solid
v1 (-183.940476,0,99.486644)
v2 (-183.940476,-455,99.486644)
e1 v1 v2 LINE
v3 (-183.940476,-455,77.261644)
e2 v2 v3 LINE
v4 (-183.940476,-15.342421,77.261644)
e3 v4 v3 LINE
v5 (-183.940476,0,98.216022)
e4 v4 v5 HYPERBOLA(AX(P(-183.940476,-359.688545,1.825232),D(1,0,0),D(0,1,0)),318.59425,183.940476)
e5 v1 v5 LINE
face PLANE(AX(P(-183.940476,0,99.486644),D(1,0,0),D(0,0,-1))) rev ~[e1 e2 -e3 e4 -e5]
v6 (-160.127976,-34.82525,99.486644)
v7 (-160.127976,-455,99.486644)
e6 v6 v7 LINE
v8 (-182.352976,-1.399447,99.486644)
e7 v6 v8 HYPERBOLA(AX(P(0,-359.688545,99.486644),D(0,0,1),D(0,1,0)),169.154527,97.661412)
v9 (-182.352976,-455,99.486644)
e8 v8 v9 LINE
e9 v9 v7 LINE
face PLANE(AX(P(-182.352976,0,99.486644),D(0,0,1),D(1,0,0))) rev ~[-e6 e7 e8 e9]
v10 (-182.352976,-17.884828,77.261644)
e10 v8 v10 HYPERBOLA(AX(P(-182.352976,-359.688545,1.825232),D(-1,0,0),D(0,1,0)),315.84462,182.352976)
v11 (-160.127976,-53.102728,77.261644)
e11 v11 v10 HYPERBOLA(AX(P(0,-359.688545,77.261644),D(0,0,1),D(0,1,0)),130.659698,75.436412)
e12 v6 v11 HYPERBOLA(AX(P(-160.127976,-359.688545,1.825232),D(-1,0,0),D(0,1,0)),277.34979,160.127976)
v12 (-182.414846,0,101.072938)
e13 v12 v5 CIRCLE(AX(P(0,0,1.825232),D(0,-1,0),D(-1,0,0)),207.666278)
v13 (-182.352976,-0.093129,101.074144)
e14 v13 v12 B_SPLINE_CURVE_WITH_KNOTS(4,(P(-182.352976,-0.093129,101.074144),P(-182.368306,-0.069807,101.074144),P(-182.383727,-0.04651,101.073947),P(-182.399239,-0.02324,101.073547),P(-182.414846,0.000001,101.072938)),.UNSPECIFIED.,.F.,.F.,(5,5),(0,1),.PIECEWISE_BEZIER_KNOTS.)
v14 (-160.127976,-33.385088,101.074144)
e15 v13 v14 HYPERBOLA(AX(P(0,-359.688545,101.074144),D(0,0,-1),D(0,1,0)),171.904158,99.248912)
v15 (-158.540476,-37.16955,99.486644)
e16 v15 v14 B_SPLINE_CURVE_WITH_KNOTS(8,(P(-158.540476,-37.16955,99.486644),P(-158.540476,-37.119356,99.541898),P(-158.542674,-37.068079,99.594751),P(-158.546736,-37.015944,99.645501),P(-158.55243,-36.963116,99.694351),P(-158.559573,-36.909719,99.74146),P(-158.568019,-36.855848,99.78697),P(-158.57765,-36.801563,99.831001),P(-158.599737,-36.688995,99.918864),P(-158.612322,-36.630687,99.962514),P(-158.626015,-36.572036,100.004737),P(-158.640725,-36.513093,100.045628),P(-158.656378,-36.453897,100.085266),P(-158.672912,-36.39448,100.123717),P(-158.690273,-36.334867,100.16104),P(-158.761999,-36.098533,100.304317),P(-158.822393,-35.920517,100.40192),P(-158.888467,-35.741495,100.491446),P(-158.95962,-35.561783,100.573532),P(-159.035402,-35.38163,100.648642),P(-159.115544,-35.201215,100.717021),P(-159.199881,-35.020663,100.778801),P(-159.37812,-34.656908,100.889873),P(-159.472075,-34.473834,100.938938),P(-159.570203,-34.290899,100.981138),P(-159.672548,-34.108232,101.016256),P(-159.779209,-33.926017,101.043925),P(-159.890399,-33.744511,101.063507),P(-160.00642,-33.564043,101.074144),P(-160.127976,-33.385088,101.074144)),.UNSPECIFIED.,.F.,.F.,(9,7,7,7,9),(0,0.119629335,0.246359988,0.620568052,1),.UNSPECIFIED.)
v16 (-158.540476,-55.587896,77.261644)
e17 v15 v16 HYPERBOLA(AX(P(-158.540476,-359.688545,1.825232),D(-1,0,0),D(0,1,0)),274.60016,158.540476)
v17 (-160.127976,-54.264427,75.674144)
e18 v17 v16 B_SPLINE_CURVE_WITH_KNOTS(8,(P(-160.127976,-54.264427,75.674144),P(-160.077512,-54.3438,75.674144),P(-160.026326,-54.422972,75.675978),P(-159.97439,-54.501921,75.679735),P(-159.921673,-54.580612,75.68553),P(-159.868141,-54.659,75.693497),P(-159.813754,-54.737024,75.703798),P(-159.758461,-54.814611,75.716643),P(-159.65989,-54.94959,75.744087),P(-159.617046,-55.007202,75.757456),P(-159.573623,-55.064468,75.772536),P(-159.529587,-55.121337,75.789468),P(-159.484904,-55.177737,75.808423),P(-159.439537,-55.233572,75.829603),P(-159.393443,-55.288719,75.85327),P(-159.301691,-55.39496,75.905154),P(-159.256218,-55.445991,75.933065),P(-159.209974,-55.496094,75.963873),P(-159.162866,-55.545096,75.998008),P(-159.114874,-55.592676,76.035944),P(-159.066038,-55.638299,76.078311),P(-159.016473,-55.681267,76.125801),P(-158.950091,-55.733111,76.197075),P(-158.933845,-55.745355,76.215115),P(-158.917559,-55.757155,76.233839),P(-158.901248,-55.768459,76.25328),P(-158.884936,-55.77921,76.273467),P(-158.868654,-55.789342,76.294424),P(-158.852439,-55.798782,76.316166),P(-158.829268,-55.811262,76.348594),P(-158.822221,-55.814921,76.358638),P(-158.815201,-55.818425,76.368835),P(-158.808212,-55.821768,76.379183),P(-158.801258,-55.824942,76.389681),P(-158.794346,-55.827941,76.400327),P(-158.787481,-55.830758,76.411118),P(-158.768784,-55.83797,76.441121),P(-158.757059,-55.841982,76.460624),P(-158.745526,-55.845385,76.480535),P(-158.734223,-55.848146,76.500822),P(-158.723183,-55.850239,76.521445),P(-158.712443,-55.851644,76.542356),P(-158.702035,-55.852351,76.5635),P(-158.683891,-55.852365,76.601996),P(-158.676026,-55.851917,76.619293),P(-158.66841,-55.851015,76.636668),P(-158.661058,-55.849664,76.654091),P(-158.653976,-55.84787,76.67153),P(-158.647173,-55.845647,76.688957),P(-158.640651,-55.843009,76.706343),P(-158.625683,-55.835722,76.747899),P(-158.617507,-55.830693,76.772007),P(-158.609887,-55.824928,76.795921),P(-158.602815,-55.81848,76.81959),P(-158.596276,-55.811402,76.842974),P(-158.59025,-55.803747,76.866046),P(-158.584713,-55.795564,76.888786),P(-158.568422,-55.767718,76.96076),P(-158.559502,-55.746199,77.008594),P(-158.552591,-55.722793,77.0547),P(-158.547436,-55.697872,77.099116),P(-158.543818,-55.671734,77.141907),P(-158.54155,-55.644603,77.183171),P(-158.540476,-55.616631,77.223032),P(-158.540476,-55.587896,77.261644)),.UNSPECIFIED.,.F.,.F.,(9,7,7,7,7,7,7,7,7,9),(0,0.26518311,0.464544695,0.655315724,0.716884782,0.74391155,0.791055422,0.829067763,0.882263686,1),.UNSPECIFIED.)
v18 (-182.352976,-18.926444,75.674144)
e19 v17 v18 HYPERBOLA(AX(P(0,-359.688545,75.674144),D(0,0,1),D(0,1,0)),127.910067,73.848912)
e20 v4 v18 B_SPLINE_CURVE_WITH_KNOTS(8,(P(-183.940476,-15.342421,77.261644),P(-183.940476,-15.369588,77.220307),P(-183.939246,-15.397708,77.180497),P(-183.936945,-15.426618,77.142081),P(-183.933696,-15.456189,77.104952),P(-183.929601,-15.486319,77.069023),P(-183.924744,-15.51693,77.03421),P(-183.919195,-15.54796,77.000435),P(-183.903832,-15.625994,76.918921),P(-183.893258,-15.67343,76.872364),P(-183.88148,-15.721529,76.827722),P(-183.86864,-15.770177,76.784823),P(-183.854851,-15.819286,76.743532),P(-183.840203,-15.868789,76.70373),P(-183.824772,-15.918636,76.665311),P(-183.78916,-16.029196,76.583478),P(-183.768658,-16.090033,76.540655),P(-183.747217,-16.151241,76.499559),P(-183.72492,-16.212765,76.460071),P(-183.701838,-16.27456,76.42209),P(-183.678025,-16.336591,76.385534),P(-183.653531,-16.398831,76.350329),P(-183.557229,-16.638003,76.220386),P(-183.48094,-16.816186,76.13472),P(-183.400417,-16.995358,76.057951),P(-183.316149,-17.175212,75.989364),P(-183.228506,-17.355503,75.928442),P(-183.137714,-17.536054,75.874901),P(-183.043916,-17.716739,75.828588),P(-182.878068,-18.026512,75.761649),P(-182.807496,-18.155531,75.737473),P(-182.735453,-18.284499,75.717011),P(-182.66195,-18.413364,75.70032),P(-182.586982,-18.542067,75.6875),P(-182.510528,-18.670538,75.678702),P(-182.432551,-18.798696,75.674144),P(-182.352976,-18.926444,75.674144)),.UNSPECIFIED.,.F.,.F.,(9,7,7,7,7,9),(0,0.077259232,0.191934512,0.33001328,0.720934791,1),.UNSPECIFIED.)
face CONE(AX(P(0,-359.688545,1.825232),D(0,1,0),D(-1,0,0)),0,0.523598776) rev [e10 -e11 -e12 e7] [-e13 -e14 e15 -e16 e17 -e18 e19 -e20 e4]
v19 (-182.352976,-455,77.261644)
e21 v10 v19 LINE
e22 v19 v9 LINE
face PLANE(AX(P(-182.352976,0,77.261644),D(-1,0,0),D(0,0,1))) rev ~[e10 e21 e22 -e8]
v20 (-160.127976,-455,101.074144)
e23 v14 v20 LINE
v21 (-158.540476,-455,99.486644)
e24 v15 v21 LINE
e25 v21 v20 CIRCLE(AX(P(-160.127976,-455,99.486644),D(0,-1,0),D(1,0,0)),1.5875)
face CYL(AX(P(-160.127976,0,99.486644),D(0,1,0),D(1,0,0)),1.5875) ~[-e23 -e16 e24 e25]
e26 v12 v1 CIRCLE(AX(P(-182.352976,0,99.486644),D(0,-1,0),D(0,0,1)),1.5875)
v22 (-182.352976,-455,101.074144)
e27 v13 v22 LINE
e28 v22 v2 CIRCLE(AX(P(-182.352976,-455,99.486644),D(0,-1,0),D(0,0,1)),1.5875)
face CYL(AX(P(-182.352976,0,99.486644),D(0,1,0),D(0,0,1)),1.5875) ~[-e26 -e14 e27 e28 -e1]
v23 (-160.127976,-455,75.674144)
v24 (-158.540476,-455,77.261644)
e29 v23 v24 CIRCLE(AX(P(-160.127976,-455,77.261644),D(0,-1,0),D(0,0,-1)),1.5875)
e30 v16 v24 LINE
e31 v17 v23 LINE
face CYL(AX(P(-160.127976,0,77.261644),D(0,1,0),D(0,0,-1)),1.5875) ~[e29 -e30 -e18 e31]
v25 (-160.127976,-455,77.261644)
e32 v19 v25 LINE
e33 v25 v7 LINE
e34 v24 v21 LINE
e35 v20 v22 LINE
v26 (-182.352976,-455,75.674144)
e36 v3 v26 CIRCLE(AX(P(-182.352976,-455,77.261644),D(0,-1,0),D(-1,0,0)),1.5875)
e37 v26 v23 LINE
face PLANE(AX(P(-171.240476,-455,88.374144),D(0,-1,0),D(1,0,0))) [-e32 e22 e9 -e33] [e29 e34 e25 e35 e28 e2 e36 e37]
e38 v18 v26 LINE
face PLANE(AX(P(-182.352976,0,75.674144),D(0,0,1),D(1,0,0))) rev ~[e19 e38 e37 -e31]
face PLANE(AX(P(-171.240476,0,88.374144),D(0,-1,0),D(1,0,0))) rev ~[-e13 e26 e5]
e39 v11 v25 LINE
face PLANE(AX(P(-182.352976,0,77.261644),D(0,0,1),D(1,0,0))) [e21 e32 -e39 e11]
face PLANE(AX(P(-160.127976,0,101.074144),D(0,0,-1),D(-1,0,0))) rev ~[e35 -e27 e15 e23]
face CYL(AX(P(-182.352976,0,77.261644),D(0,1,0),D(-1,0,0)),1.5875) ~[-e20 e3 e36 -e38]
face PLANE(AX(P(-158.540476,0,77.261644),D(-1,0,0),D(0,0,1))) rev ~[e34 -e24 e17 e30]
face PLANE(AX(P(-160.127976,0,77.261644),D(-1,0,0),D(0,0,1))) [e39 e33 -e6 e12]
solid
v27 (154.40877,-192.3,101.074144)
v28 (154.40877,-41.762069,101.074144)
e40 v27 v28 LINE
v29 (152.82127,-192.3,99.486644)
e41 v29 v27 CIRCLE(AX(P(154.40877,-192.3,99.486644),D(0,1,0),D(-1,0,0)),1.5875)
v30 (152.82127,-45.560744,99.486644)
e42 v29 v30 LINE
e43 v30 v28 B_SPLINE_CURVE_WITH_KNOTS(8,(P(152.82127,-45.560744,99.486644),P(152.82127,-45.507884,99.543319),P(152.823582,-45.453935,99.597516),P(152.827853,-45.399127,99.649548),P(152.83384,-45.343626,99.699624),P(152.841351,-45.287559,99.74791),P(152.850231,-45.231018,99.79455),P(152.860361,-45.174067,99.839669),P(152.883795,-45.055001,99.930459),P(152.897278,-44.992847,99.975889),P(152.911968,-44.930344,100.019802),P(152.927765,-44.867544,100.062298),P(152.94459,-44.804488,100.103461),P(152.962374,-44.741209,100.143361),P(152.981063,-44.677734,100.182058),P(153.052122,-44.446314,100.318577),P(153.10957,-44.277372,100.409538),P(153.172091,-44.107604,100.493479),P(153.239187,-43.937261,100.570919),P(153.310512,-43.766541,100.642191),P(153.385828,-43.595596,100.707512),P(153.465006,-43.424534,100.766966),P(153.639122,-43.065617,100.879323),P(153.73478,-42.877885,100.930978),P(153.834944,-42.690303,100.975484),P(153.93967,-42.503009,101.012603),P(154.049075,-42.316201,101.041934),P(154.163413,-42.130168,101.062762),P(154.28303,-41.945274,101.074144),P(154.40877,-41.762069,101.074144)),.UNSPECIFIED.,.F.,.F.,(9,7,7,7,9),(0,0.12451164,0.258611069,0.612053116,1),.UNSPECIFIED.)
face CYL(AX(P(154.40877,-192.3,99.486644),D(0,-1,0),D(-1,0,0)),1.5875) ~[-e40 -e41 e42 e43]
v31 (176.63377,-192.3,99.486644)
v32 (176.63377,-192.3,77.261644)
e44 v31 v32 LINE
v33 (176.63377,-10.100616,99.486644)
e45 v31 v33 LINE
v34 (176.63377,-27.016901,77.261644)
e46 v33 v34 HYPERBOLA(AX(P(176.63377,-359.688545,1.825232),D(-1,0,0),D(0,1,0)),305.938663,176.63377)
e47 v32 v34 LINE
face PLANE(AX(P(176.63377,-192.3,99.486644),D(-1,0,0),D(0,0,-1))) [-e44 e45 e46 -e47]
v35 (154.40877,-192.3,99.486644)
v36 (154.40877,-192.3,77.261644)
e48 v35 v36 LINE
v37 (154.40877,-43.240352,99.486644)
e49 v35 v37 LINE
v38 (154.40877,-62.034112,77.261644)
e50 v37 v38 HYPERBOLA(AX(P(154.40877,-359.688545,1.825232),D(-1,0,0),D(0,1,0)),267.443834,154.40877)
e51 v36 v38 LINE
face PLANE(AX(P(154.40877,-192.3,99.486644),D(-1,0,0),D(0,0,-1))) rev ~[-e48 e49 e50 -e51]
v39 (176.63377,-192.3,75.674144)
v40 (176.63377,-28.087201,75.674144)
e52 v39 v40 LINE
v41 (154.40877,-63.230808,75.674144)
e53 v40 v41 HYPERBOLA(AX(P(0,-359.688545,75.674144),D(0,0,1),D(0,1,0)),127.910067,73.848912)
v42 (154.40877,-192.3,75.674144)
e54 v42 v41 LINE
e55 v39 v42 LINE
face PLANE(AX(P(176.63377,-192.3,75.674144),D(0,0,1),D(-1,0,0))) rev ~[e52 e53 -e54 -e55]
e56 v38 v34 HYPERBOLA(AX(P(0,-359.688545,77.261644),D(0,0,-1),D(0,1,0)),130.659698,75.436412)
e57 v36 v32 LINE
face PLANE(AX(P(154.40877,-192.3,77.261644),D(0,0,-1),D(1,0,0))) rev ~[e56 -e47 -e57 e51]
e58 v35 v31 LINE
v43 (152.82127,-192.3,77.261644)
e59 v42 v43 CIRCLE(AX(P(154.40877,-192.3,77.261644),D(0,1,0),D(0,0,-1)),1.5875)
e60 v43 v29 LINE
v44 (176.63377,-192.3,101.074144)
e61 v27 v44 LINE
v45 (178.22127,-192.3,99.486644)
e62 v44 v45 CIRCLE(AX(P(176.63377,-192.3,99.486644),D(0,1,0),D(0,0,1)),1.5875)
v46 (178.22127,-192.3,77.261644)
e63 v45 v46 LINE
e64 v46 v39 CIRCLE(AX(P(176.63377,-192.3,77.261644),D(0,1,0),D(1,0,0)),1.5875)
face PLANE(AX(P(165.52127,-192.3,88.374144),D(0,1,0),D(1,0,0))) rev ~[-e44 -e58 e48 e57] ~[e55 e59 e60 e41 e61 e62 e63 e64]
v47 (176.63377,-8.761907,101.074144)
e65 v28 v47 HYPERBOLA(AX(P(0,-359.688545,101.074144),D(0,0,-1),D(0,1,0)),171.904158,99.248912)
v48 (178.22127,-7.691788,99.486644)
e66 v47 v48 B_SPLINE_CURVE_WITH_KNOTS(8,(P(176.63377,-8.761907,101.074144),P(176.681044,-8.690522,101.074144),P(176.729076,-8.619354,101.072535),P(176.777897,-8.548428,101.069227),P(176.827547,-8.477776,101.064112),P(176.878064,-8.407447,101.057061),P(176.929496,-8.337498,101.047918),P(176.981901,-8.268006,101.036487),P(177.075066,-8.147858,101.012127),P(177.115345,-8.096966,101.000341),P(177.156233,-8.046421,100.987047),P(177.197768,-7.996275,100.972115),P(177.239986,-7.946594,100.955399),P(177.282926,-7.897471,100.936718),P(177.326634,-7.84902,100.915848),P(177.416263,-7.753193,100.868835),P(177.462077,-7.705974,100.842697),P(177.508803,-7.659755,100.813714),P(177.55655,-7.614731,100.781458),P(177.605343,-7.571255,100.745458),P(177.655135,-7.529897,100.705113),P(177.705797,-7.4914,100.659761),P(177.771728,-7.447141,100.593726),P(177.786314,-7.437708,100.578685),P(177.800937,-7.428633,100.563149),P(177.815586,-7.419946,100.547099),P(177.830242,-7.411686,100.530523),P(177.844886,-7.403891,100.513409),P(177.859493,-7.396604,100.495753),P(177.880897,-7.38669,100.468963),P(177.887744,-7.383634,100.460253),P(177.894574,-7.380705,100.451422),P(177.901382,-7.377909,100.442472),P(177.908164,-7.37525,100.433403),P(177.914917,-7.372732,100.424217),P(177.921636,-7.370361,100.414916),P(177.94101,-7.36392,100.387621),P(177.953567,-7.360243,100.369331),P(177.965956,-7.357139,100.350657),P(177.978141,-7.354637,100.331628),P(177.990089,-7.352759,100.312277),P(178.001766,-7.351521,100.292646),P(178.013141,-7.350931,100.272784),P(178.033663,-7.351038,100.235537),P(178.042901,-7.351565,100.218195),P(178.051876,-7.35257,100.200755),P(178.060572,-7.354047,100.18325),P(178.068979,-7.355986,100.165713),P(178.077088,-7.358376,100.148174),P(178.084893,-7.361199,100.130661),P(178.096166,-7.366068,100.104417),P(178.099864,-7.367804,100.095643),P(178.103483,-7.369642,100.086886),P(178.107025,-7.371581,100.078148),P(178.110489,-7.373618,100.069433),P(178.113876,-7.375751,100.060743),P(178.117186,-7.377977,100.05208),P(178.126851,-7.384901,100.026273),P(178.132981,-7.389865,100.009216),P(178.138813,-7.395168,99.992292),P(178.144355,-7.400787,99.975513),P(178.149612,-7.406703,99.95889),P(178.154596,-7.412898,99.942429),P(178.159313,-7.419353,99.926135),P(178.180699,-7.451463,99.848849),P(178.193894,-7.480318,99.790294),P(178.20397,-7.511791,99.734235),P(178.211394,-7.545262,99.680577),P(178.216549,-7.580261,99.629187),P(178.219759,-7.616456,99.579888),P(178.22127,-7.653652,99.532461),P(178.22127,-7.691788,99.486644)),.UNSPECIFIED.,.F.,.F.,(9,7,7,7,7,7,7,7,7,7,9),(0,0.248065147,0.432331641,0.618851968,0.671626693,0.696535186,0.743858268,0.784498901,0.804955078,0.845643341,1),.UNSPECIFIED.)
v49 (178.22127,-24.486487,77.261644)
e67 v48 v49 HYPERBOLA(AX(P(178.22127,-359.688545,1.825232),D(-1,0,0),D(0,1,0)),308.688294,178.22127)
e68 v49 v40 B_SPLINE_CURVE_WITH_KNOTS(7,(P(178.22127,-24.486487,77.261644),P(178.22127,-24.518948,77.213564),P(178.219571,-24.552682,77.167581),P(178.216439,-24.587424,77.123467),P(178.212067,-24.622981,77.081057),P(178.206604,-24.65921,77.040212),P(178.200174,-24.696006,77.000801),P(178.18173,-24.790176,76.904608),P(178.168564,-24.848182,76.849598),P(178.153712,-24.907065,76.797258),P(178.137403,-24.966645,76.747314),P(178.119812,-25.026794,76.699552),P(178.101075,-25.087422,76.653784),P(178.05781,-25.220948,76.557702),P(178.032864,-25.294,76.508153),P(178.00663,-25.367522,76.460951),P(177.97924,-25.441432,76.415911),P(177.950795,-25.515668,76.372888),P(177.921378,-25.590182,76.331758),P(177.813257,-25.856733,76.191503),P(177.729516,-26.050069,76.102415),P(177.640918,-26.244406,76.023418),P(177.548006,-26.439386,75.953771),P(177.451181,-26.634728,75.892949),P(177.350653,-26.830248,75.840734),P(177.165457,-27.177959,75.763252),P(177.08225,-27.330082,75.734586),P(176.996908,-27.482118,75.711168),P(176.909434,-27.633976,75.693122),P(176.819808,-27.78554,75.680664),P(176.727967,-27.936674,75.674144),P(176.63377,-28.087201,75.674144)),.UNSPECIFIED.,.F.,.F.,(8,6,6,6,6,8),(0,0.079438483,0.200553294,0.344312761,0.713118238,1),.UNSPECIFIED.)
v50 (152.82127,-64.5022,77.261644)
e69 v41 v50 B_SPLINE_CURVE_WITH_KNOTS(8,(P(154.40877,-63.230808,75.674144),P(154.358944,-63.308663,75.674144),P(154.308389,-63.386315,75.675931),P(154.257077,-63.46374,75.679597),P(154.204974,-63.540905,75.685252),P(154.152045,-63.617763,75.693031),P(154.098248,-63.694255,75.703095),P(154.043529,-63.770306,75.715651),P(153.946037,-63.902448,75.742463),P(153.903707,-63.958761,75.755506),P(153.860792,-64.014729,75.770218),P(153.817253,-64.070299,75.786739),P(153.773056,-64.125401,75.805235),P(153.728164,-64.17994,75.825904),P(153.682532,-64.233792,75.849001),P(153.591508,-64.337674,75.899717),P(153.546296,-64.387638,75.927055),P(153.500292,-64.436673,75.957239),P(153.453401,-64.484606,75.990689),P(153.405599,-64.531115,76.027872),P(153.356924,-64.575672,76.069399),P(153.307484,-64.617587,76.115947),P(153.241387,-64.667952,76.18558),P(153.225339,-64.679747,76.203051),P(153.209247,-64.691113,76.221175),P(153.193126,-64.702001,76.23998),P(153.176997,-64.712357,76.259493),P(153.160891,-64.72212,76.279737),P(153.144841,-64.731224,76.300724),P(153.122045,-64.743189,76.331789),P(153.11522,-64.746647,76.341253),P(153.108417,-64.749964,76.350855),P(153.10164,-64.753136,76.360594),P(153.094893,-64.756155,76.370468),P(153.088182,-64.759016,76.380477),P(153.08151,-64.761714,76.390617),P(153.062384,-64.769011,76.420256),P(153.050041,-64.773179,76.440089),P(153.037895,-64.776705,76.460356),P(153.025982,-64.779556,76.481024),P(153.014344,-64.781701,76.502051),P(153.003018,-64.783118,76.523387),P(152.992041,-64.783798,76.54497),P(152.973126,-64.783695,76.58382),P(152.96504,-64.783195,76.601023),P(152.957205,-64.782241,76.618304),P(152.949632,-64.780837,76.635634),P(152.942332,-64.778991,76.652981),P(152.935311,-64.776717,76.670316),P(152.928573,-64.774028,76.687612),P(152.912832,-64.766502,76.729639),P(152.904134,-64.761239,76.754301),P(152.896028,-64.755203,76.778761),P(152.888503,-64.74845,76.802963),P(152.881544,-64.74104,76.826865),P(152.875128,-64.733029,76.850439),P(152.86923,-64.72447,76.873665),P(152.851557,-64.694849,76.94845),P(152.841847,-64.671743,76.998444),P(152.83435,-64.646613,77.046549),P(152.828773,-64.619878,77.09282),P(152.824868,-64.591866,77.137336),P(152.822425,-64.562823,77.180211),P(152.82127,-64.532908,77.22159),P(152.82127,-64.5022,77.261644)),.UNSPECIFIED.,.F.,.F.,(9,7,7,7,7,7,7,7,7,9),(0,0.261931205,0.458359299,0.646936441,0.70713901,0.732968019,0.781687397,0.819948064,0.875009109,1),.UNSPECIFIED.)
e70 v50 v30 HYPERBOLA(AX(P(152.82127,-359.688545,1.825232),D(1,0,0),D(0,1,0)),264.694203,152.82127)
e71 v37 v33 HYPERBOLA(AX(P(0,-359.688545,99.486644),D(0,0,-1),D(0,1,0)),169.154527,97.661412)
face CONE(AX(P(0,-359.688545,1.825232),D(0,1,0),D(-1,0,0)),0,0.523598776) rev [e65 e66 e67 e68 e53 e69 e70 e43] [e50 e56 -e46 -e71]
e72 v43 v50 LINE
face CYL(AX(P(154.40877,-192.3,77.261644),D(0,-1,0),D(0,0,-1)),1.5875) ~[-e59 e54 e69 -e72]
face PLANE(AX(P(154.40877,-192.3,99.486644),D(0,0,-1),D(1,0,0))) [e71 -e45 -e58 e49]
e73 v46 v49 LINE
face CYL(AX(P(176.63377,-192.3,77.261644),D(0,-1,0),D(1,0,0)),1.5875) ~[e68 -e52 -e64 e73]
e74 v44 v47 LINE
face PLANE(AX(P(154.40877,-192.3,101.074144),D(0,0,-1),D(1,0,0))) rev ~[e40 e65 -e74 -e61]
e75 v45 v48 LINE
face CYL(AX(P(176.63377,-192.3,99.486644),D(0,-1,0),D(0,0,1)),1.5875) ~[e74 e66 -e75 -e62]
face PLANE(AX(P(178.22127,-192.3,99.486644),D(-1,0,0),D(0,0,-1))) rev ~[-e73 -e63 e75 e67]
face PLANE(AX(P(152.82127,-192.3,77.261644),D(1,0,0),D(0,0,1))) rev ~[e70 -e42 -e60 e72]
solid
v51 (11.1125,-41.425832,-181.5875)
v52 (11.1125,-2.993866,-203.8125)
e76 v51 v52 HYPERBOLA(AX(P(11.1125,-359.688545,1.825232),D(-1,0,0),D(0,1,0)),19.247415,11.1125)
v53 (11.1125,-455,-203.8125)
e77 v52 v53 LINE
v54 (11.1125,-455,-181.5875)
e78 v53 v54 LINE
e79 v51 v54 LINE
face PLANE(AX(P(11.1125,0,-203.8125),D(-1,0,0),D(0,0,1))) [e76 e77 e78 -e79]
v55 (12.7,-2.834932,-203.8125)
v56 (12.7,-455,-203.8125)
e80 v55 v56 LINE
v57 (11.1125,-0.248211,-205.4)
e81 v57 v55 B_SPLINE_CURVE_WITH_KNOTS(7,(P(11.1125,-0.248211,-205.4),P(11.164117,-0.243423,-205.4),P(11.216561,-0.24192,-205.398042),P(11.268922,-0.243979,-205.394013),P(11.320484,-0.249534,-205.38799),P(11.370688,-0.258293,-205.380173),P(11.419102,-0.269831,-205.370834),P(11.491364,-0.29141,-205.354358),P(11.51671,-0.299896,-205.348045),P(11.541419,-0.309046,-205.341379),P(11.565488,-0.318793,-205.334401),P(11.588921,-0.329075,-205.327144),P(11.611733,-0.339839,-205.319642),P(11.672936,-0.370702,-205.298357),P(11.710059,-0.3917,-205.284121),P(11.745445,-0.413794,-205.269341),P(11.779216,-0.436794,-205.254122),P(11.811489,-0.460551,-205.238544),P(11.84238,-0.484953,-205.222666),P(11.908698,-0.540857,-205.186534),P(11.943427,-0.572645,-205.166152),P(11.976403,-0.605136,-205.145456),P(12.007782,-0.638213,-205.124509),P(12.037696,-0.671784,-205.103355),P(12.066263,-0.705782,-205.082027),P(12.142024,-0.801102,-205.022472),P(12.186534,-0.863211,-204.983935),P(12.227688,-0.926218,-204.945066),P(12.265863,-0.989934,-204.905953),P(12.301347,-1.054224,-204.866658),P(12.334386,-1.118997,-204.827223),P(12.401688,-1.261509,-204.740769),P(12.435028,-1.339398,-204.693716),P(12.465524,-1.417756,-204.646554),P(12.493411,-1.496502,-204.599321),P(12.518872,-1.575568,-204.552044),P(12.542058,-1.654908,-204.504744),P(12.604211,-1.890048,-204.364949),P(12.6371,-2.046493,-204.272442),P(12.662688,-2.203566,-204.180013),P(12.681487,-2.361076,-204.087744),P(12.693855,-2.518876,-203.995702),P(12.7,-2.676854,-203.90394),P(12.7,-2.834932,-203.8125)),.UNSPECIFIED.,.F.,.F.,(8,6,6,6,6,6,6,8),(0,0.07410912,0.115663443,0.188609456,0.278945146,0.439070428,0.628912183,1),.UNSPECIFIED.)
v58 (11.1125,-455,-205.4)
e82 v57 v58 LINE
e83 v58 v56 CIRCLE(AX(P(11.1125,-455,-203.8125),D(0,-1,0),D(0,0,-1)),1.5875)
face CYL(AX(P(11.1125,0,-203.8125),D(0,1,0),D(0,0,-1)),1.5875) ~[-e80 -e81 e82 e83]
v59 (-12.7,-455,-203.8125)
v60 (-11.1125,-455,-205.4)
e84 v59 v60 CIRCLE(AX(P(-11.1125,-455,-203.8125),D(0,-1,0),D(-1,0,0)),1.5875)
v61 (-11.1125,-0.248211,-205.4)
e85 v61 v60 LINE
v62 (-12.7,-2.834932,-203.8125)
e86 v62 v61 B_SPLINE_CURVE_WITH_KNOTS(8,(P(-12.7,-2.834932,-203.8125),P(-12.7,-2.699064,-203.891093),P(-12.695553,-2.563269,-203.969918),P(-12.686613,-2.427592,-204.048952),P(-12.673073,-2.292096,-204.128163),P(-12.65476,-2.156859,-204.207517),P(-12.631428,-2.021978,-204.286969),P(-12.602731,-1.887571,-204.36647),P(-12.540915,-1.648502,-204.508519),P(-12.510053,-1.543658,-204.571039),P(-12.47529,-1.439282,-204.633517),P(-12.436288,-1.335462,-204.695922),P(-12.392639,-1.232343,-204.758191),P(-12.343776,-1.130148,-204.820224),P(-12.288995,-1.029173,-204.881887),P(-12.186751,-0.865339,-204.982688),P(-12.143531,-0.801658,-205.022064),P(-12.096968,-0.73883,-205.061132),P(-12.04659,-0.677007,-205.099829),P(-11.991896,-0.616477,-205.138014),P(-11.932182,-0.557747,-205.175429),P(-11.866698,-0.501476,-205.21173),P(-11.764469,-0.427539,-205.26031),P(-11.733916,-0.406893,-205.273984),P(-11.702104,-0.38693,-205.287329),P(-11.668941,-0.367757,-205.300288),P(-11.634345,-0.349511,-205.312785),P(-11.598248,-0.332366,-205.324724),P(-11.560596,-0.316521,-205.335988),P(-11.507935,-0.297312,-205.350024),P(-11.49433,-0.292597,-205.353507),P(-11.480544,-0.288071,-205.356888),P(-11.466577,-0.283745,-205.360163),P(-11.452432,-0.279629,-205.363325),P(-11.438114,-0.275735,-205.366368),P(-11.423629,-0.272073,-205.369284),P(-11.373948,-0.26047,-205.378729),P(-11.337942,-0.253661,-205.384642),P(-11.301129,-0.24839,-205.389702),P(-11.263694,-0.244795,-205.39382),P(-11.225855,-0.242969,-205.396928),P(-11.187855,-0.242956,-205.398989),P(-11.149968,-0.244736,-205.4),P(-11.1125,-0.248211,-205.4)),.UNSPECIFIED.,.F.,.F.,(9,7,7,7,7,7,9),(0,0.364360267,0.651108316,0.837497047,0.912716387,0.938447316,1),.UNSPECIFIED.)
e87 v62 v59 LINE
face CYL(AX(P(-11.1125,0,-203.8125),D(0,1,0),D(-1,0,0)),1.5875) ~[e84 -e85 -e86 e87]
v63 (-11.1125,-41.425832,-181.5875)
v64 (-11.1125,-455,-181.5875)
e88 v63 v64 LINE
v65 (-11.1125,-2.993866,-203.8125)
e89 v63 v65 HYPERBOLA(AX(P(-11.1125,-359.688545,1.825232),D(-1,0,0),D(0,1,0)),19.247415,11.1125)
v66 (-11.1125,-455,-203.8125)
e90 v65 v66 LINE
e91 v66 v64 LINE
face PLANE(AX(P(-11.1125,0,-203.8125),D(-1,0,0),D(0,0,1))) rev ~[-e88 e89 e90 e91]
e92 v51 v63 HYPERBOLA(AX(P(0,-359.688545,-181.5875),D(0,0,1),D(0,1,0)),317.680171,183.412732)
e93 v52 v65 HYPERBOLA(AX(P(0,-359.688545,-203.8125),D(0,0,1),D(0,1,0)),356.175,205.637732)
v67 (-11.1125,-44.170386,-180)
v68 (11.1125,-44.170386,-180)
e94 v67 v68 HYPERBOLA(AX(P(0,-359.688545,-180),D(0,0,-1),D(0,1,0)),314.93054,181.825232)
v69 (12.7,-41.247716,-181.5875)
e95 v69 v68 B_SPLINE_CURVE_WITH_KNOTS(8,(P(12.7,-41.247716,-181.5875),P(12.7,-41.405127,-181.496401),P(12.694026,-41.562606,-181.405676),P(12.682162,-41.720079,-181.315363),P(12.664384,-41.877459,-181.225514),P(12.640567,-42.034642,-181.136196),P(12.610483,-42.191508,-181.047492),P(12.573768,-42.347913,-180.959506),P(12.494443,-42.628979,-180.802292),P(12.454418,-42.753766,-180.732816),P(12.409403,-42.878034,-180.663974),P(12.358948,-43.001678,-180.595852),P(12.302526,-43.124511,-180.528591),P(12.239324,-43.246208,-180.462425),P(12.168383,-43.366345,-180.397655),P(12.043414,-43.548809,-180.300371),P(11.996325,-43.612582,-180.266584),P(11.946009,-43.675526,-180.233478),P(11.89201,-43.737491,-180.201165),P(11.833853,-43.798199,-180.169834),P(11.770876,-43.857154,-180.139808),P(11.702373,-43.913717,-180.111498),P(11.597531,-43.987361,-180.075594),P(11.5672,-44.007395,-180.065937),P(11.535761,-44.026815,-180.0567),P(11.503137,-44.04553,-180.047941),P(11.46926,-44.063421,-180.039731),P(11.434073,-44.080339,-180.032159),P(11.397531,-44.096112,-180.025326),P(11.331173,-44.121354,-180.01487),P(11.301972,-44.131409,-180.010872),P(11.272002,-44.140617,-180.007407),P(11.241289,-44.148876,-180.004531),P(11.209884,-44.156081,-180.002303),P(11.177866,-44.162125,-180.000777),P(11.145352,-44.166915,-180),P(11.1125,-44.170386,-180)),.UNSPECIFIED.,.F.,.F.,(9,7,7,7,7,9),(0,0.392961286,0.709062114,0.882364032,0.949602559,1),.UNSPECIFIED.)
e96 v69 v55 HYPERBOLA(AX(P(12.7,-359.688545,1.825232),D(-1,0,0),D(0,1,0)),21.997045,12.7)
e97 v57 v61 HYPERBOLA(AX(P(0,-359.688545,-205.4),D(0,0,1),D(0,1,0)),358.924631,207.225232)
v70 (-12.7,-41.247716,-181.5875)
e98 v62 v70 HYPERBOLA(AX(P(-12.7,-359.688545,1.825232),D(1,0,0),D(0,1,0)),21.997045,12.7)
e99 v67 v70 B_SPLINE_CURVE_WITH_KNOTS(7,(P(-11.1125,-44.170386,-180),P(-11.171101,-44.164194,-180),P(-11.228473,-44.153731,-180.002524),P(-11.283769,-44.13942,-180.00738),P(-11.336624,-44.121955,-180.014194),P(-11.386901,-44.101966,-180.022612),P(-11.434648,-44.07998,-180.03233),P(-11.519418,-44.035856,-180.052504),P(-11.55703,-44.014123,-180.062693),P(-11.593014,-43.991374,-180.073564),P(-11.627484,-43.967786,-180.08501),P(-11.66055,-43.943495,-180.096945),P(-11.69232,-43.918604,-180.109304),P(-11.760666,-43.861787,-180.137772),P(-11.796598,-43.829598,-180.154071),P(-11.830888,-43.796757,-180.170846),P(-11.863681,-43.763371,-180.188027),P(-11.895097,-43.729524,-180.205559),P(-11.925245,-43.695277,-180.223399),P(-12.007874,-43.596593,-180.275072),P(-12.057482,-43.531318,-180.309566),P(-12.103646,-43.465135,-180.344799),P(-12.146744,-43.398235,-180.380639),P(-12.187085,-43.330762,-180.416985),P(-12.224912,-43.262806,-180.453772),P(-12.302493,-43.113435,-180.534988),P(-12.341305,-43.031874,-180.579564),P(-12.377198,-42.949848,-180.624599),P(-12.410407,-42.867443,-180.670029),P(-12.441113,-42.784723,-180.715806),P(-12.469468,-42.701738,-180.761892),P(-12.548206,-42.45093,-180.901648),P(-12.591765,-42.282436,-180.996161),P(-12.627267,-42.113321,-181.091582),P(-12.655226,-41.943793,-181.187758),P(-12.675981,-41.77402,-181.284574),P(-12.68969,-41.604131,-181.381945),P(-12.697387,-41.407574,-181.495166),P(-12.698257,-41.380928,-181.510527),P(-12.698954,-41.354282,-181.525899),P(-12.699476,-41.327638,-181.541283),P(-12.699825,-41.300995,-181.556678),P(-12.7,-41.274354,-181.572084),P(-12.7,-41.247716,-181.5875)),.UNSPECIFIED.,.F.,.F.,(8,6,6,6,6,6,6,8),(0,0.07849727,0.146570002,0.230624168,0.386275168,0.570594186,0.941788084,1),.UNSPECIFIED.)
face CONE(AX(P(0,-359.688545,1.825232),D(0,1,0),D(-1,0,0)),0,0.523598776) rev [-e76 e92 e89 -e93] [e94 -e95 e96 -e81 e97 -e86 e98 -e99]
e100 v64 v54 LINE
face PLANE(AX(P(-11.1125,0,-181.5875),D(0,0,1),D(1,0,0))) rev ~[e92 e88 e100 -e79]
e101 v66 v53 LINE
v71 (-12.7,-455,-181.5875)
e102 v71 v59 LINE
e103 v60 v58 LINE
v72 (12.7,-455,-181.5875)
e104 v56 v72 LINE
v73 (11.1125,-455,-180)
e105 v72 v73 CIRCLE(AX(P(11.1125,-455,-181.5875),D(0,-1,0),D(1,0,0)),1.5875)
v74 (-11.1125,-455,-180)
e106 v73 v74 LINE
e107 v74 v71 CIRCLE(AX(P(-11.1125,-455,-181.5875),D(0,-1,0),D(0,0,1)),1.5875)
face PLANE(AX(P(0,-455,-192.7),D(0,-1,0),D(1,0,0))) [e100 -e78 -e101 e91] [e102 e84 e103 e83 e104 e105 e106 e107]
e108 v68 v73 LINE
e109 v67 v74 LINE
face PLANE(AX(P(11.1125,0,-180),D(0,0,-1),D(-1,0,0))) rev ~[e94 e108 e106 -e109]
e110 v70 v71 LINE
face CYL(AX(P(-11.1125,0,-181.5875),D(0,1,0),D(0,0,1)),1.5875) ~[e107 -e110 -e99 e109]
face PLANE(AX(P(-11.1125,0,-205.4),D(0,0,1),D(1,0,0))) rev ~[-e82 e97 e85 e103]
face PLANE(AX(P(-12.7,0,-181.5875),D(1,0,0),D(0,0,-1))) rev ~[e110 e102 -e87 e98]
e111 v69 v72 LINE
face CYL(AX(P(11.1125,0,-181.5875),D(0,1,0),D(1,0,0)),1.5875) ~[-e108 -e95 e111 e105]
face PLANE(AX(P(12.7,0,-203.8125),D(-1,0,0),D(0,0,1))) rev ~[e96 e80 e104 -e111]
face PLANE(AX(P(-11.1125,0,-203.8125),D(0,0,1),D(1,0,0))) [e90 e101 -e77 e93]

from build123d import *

# Parameters (mm, degrees)
CROQUIS11_W                   = 22.225
CROQUIS11_H                   = 22.225
TUBO_CUADRADA_1_X_1_1_DEPTH   = 455
CROQUIS11_ON_SEGMENT_2_W      = 22.225
CROQUIS11_ON_SEGMENT_2_H      = 22.225
TUBO_CUADRADA_1_X_1_1_2_DEPTH = 455
CROQUIS11_ON_SEGMENT_3_W      = 22.225
CROQUIS11_ON_SEGMENT_3_H      = 22.225
TUBO_CUADRADA_1_X_1_1_3_DEPTH = 455
CROQUIS14_W                   = 32.37721909
CROQUIS14_H                   = 31.982194398
CORTAR_EXTRUIR1_DEPTH         = 481
CROQUIS16_W                   = 22.225
CROQUIS16_H                   = 22.225
SALIENTE_EXTRUIR1_DEPTH       = 185


with BuildPart() as part:
    # Croquis11 → Tubo cuadrada 1 X 1(1) (new body)
    with BuildSketch(Plane(origin=(171.928790355, 0, 87.027472945), x_dir=(1, 0, 0), z_dir=(0, -1, 0))):
        with BuildLine():
            Line((11.1125, 12.7), (-11.1125, 12.7))
            ThreePointArc((-11.1125, 12.7), (-12.235032015, 12.235032015), (-12.7, 11.1125))
            Line((-12.7, 11.1125), (-12.7, -11.1125))
            ThreePointArc((-12.7, -11.1125), (-12.235032015, -12.235032015), (-11.1125, -12.7))
            Line((-11.1125, -12.7), (11.1125, -12.7))
            ThreePointArc((11.1125, -12.7), (12.235032015, -12.235032015), (12.7, -11.1125))
            Line((12.7, -11.1125), (12.7, 11.1125))
            ThreePointArc((12.7, 11.1125), (12.235032015, 12.235032015), (11.1125, 12.7))
        make_face()
        Rectangle(CROQUIS11_W, CROQUIS11_H, mode=Mode.SUBTRACT)
    extrude(amount=TUBO_CUADRADA_1_X_1_1_DEPTH)

    # Croquis14 → Cortar-Extruir1 (cut)
    with BuildSketch(Plane.XZ.offset(455)):
        with Locations((172.035359018, 86.366428401)):
            Rectangle(CROQUIS14_W, CROQUIS14_H)
    extrude(amount=-CORTAR_EXTRUIR1_DEPTH, mode=Mode.SUBTRACT)


with BuildPart() as body_2:
    # Croquis11 on segment 2 (carried to segment 2) → Tubo cuadrada 1 X 1_1 2 (new body)
    with BuildSketch(Plane(origin=(-171.240476171, 0, 88.37414396), x_dir=(1, 0, 0), z_dir=(0, -1, 0))):
        with BuildLine():
            Line((11.1125, 12.7), (-11.1125, 12.7))
            ThreePointArc((-11.1125, 12.7), (-12.235032015, 12.235032015), (-12.7, 11.1125))
            Line((-12.7, 11.1125), (-12.7, -11.1125))
            ThreePointArc((-12.7, -11.1125), (-12.235032015, -12.235032015), (-11.1125, -12.7))
            Line((-11.1125, -12.7), (11.1125, -12.7))
            ThreePointArc((11.1125, -12.7), (12.235032015, -12.235032015), (12.7, -11.1125))
            Line((12.7, -11.1125), (12.7, 11.1125))
            ThreePointArc((12.7, 11.1125), (12.235032015, 12.235032015), (11.1125, 12.7))
        make_face()
        Rectangle(CROQUIS11_ON_SEGMENT_2_W, CROQUIS11_ON_SEGMENT_2_H, mode=Mode.SUBTRACT)
    extrude(amount=TUBO_CUADRADA_1_X_1_1_2_DEPTH)


with BuildPart() as body_3:
    # Croquis11 on segment 3 (carried to segment 3) → Tubo cuadrada 1 X 1_1 3 (new body)
    with BuildSketch(Plane(origin=(0, 0, -192.7), x_dir=(1, 0, 0), z_dir=(0, -1, 0))):
        with BuildLine():
            Line((11.1125, 12.7), (-11.1125, 12.7))
            ThreePointArc((-11.1125, 12.7), (-12.235032015, 12.235032015), (-12.7, 11.1125))
            Line((-12.7, 11.1125), (-12.7, -11.1125))
            ThreePointArc((-12.7, -11.1125), (-12.235032015, -12.235032015), (-11.1125, -12.7))
            Line((-11.1125, -12.7), (11.1125, -12.7))
            ThreePointArc((11.1125, -12.7), (12.235032015, -12.235032015), (12.7, -11.1125))
            Line((12.7, -11.1125), (12.7, 11.1125))
            ThreePointArc((12.7, 11.1125), (12.235032015, 12.235032015), (11.1125, 12.7))
        make_face()
        Rectangle(CROQUIS11_ON_SEGMENT_3_W, CROQUIS11_ON_SEGMENT_3_H, mode=Mode.SUBTRACT)
    extrude(amount=TUBO_CUADRADA_1_X_1_1_3_DEPTH)


with BuildPart() as body_3_2:
    # Croquis16 → Saliente-Extruir1 (new body)
    with BuildSketch(Plane(origin=(0, -192.3, 0), x_dir=(1, 0, 0), z_dir=(0, 1, 0))):
        with BuildLine():
            Line((176.633769577, -75.67414396), (154.408769577, -75.67414396))
            ThreePointArc((154.408769577, -75.67414396), (153.286237562, -76.139111945), (152.821269577, -77.26164396))
            Line((152.821269577, -77.26164396), (152.821269577, -99.48664396))
            ThreePointArc((152.821269577, -99.48664396), (153.286237562, -100.609175975), (154.408769577, -101.07414396))
            Line((154.408769577, -101.07414396), (176.633769577, -101.07414396))
            ThreePointArc((176.633769577, -101.07414396), (177.756301592, -100.609175975), (178.221269577, -99.48664396))
            Line((178.221269577, -99.48664396), (178.221269577, -77.26164396))
            ThreePointArc((178.221269577, -77.26164396), (177.756301592, -76.139111945), (176.633769577, -75.67414396))
        make_face()
        with Locations((165.521269577, -88.37414396)):
            Rectangle(CROQUIS16_W, CROQUIS16_H, mode=Mode.SUBTRACT)
    extrude(amount=SALIENTE_EXTRUIR1_DEPTH)


with BuildPart() as cortar_revoluci_n1_tool:
    # Croquis13 → Cortar-Revolución1 (revolve)
    with BuildSketch(Plane.XY.offset(1.825232316)):
        Polygon((0, 0), (0, -359.688544551), (-207.666278021, 0), align=None)
    revolve(axis=Axis((0, 0, 1.825232316), (0, -1, 0)))


with BuildPart() as body_2_1:
    add(body_2.part)

    # Cortar-Revolución1: cut by cortar_revoluci_n1_tool
    add(cortar_revoluci_n1_tool.part, mode=Mode.SUBTRACT)


with BuildPart() as body_3_1:
    add(body_3.part)

    # Cortar-Revolución1: cut by cortar_revoluci_n1_tool
    add(cortar_revoluci_n1_tool.part, mode=Mode.SUBTRACT)


with BuildPart() as body_3_2_1:
    add(body_3_2.part)

    # Cortar-Revolución1: cut by cortar_revoluci_n1_tool
    add(cortar_revoluci_n1_tool.part, mode=Mode.SUBTRACT)


solid = Compound([body_2_1.part, body_3_1.part, body_3_2_1.part])
